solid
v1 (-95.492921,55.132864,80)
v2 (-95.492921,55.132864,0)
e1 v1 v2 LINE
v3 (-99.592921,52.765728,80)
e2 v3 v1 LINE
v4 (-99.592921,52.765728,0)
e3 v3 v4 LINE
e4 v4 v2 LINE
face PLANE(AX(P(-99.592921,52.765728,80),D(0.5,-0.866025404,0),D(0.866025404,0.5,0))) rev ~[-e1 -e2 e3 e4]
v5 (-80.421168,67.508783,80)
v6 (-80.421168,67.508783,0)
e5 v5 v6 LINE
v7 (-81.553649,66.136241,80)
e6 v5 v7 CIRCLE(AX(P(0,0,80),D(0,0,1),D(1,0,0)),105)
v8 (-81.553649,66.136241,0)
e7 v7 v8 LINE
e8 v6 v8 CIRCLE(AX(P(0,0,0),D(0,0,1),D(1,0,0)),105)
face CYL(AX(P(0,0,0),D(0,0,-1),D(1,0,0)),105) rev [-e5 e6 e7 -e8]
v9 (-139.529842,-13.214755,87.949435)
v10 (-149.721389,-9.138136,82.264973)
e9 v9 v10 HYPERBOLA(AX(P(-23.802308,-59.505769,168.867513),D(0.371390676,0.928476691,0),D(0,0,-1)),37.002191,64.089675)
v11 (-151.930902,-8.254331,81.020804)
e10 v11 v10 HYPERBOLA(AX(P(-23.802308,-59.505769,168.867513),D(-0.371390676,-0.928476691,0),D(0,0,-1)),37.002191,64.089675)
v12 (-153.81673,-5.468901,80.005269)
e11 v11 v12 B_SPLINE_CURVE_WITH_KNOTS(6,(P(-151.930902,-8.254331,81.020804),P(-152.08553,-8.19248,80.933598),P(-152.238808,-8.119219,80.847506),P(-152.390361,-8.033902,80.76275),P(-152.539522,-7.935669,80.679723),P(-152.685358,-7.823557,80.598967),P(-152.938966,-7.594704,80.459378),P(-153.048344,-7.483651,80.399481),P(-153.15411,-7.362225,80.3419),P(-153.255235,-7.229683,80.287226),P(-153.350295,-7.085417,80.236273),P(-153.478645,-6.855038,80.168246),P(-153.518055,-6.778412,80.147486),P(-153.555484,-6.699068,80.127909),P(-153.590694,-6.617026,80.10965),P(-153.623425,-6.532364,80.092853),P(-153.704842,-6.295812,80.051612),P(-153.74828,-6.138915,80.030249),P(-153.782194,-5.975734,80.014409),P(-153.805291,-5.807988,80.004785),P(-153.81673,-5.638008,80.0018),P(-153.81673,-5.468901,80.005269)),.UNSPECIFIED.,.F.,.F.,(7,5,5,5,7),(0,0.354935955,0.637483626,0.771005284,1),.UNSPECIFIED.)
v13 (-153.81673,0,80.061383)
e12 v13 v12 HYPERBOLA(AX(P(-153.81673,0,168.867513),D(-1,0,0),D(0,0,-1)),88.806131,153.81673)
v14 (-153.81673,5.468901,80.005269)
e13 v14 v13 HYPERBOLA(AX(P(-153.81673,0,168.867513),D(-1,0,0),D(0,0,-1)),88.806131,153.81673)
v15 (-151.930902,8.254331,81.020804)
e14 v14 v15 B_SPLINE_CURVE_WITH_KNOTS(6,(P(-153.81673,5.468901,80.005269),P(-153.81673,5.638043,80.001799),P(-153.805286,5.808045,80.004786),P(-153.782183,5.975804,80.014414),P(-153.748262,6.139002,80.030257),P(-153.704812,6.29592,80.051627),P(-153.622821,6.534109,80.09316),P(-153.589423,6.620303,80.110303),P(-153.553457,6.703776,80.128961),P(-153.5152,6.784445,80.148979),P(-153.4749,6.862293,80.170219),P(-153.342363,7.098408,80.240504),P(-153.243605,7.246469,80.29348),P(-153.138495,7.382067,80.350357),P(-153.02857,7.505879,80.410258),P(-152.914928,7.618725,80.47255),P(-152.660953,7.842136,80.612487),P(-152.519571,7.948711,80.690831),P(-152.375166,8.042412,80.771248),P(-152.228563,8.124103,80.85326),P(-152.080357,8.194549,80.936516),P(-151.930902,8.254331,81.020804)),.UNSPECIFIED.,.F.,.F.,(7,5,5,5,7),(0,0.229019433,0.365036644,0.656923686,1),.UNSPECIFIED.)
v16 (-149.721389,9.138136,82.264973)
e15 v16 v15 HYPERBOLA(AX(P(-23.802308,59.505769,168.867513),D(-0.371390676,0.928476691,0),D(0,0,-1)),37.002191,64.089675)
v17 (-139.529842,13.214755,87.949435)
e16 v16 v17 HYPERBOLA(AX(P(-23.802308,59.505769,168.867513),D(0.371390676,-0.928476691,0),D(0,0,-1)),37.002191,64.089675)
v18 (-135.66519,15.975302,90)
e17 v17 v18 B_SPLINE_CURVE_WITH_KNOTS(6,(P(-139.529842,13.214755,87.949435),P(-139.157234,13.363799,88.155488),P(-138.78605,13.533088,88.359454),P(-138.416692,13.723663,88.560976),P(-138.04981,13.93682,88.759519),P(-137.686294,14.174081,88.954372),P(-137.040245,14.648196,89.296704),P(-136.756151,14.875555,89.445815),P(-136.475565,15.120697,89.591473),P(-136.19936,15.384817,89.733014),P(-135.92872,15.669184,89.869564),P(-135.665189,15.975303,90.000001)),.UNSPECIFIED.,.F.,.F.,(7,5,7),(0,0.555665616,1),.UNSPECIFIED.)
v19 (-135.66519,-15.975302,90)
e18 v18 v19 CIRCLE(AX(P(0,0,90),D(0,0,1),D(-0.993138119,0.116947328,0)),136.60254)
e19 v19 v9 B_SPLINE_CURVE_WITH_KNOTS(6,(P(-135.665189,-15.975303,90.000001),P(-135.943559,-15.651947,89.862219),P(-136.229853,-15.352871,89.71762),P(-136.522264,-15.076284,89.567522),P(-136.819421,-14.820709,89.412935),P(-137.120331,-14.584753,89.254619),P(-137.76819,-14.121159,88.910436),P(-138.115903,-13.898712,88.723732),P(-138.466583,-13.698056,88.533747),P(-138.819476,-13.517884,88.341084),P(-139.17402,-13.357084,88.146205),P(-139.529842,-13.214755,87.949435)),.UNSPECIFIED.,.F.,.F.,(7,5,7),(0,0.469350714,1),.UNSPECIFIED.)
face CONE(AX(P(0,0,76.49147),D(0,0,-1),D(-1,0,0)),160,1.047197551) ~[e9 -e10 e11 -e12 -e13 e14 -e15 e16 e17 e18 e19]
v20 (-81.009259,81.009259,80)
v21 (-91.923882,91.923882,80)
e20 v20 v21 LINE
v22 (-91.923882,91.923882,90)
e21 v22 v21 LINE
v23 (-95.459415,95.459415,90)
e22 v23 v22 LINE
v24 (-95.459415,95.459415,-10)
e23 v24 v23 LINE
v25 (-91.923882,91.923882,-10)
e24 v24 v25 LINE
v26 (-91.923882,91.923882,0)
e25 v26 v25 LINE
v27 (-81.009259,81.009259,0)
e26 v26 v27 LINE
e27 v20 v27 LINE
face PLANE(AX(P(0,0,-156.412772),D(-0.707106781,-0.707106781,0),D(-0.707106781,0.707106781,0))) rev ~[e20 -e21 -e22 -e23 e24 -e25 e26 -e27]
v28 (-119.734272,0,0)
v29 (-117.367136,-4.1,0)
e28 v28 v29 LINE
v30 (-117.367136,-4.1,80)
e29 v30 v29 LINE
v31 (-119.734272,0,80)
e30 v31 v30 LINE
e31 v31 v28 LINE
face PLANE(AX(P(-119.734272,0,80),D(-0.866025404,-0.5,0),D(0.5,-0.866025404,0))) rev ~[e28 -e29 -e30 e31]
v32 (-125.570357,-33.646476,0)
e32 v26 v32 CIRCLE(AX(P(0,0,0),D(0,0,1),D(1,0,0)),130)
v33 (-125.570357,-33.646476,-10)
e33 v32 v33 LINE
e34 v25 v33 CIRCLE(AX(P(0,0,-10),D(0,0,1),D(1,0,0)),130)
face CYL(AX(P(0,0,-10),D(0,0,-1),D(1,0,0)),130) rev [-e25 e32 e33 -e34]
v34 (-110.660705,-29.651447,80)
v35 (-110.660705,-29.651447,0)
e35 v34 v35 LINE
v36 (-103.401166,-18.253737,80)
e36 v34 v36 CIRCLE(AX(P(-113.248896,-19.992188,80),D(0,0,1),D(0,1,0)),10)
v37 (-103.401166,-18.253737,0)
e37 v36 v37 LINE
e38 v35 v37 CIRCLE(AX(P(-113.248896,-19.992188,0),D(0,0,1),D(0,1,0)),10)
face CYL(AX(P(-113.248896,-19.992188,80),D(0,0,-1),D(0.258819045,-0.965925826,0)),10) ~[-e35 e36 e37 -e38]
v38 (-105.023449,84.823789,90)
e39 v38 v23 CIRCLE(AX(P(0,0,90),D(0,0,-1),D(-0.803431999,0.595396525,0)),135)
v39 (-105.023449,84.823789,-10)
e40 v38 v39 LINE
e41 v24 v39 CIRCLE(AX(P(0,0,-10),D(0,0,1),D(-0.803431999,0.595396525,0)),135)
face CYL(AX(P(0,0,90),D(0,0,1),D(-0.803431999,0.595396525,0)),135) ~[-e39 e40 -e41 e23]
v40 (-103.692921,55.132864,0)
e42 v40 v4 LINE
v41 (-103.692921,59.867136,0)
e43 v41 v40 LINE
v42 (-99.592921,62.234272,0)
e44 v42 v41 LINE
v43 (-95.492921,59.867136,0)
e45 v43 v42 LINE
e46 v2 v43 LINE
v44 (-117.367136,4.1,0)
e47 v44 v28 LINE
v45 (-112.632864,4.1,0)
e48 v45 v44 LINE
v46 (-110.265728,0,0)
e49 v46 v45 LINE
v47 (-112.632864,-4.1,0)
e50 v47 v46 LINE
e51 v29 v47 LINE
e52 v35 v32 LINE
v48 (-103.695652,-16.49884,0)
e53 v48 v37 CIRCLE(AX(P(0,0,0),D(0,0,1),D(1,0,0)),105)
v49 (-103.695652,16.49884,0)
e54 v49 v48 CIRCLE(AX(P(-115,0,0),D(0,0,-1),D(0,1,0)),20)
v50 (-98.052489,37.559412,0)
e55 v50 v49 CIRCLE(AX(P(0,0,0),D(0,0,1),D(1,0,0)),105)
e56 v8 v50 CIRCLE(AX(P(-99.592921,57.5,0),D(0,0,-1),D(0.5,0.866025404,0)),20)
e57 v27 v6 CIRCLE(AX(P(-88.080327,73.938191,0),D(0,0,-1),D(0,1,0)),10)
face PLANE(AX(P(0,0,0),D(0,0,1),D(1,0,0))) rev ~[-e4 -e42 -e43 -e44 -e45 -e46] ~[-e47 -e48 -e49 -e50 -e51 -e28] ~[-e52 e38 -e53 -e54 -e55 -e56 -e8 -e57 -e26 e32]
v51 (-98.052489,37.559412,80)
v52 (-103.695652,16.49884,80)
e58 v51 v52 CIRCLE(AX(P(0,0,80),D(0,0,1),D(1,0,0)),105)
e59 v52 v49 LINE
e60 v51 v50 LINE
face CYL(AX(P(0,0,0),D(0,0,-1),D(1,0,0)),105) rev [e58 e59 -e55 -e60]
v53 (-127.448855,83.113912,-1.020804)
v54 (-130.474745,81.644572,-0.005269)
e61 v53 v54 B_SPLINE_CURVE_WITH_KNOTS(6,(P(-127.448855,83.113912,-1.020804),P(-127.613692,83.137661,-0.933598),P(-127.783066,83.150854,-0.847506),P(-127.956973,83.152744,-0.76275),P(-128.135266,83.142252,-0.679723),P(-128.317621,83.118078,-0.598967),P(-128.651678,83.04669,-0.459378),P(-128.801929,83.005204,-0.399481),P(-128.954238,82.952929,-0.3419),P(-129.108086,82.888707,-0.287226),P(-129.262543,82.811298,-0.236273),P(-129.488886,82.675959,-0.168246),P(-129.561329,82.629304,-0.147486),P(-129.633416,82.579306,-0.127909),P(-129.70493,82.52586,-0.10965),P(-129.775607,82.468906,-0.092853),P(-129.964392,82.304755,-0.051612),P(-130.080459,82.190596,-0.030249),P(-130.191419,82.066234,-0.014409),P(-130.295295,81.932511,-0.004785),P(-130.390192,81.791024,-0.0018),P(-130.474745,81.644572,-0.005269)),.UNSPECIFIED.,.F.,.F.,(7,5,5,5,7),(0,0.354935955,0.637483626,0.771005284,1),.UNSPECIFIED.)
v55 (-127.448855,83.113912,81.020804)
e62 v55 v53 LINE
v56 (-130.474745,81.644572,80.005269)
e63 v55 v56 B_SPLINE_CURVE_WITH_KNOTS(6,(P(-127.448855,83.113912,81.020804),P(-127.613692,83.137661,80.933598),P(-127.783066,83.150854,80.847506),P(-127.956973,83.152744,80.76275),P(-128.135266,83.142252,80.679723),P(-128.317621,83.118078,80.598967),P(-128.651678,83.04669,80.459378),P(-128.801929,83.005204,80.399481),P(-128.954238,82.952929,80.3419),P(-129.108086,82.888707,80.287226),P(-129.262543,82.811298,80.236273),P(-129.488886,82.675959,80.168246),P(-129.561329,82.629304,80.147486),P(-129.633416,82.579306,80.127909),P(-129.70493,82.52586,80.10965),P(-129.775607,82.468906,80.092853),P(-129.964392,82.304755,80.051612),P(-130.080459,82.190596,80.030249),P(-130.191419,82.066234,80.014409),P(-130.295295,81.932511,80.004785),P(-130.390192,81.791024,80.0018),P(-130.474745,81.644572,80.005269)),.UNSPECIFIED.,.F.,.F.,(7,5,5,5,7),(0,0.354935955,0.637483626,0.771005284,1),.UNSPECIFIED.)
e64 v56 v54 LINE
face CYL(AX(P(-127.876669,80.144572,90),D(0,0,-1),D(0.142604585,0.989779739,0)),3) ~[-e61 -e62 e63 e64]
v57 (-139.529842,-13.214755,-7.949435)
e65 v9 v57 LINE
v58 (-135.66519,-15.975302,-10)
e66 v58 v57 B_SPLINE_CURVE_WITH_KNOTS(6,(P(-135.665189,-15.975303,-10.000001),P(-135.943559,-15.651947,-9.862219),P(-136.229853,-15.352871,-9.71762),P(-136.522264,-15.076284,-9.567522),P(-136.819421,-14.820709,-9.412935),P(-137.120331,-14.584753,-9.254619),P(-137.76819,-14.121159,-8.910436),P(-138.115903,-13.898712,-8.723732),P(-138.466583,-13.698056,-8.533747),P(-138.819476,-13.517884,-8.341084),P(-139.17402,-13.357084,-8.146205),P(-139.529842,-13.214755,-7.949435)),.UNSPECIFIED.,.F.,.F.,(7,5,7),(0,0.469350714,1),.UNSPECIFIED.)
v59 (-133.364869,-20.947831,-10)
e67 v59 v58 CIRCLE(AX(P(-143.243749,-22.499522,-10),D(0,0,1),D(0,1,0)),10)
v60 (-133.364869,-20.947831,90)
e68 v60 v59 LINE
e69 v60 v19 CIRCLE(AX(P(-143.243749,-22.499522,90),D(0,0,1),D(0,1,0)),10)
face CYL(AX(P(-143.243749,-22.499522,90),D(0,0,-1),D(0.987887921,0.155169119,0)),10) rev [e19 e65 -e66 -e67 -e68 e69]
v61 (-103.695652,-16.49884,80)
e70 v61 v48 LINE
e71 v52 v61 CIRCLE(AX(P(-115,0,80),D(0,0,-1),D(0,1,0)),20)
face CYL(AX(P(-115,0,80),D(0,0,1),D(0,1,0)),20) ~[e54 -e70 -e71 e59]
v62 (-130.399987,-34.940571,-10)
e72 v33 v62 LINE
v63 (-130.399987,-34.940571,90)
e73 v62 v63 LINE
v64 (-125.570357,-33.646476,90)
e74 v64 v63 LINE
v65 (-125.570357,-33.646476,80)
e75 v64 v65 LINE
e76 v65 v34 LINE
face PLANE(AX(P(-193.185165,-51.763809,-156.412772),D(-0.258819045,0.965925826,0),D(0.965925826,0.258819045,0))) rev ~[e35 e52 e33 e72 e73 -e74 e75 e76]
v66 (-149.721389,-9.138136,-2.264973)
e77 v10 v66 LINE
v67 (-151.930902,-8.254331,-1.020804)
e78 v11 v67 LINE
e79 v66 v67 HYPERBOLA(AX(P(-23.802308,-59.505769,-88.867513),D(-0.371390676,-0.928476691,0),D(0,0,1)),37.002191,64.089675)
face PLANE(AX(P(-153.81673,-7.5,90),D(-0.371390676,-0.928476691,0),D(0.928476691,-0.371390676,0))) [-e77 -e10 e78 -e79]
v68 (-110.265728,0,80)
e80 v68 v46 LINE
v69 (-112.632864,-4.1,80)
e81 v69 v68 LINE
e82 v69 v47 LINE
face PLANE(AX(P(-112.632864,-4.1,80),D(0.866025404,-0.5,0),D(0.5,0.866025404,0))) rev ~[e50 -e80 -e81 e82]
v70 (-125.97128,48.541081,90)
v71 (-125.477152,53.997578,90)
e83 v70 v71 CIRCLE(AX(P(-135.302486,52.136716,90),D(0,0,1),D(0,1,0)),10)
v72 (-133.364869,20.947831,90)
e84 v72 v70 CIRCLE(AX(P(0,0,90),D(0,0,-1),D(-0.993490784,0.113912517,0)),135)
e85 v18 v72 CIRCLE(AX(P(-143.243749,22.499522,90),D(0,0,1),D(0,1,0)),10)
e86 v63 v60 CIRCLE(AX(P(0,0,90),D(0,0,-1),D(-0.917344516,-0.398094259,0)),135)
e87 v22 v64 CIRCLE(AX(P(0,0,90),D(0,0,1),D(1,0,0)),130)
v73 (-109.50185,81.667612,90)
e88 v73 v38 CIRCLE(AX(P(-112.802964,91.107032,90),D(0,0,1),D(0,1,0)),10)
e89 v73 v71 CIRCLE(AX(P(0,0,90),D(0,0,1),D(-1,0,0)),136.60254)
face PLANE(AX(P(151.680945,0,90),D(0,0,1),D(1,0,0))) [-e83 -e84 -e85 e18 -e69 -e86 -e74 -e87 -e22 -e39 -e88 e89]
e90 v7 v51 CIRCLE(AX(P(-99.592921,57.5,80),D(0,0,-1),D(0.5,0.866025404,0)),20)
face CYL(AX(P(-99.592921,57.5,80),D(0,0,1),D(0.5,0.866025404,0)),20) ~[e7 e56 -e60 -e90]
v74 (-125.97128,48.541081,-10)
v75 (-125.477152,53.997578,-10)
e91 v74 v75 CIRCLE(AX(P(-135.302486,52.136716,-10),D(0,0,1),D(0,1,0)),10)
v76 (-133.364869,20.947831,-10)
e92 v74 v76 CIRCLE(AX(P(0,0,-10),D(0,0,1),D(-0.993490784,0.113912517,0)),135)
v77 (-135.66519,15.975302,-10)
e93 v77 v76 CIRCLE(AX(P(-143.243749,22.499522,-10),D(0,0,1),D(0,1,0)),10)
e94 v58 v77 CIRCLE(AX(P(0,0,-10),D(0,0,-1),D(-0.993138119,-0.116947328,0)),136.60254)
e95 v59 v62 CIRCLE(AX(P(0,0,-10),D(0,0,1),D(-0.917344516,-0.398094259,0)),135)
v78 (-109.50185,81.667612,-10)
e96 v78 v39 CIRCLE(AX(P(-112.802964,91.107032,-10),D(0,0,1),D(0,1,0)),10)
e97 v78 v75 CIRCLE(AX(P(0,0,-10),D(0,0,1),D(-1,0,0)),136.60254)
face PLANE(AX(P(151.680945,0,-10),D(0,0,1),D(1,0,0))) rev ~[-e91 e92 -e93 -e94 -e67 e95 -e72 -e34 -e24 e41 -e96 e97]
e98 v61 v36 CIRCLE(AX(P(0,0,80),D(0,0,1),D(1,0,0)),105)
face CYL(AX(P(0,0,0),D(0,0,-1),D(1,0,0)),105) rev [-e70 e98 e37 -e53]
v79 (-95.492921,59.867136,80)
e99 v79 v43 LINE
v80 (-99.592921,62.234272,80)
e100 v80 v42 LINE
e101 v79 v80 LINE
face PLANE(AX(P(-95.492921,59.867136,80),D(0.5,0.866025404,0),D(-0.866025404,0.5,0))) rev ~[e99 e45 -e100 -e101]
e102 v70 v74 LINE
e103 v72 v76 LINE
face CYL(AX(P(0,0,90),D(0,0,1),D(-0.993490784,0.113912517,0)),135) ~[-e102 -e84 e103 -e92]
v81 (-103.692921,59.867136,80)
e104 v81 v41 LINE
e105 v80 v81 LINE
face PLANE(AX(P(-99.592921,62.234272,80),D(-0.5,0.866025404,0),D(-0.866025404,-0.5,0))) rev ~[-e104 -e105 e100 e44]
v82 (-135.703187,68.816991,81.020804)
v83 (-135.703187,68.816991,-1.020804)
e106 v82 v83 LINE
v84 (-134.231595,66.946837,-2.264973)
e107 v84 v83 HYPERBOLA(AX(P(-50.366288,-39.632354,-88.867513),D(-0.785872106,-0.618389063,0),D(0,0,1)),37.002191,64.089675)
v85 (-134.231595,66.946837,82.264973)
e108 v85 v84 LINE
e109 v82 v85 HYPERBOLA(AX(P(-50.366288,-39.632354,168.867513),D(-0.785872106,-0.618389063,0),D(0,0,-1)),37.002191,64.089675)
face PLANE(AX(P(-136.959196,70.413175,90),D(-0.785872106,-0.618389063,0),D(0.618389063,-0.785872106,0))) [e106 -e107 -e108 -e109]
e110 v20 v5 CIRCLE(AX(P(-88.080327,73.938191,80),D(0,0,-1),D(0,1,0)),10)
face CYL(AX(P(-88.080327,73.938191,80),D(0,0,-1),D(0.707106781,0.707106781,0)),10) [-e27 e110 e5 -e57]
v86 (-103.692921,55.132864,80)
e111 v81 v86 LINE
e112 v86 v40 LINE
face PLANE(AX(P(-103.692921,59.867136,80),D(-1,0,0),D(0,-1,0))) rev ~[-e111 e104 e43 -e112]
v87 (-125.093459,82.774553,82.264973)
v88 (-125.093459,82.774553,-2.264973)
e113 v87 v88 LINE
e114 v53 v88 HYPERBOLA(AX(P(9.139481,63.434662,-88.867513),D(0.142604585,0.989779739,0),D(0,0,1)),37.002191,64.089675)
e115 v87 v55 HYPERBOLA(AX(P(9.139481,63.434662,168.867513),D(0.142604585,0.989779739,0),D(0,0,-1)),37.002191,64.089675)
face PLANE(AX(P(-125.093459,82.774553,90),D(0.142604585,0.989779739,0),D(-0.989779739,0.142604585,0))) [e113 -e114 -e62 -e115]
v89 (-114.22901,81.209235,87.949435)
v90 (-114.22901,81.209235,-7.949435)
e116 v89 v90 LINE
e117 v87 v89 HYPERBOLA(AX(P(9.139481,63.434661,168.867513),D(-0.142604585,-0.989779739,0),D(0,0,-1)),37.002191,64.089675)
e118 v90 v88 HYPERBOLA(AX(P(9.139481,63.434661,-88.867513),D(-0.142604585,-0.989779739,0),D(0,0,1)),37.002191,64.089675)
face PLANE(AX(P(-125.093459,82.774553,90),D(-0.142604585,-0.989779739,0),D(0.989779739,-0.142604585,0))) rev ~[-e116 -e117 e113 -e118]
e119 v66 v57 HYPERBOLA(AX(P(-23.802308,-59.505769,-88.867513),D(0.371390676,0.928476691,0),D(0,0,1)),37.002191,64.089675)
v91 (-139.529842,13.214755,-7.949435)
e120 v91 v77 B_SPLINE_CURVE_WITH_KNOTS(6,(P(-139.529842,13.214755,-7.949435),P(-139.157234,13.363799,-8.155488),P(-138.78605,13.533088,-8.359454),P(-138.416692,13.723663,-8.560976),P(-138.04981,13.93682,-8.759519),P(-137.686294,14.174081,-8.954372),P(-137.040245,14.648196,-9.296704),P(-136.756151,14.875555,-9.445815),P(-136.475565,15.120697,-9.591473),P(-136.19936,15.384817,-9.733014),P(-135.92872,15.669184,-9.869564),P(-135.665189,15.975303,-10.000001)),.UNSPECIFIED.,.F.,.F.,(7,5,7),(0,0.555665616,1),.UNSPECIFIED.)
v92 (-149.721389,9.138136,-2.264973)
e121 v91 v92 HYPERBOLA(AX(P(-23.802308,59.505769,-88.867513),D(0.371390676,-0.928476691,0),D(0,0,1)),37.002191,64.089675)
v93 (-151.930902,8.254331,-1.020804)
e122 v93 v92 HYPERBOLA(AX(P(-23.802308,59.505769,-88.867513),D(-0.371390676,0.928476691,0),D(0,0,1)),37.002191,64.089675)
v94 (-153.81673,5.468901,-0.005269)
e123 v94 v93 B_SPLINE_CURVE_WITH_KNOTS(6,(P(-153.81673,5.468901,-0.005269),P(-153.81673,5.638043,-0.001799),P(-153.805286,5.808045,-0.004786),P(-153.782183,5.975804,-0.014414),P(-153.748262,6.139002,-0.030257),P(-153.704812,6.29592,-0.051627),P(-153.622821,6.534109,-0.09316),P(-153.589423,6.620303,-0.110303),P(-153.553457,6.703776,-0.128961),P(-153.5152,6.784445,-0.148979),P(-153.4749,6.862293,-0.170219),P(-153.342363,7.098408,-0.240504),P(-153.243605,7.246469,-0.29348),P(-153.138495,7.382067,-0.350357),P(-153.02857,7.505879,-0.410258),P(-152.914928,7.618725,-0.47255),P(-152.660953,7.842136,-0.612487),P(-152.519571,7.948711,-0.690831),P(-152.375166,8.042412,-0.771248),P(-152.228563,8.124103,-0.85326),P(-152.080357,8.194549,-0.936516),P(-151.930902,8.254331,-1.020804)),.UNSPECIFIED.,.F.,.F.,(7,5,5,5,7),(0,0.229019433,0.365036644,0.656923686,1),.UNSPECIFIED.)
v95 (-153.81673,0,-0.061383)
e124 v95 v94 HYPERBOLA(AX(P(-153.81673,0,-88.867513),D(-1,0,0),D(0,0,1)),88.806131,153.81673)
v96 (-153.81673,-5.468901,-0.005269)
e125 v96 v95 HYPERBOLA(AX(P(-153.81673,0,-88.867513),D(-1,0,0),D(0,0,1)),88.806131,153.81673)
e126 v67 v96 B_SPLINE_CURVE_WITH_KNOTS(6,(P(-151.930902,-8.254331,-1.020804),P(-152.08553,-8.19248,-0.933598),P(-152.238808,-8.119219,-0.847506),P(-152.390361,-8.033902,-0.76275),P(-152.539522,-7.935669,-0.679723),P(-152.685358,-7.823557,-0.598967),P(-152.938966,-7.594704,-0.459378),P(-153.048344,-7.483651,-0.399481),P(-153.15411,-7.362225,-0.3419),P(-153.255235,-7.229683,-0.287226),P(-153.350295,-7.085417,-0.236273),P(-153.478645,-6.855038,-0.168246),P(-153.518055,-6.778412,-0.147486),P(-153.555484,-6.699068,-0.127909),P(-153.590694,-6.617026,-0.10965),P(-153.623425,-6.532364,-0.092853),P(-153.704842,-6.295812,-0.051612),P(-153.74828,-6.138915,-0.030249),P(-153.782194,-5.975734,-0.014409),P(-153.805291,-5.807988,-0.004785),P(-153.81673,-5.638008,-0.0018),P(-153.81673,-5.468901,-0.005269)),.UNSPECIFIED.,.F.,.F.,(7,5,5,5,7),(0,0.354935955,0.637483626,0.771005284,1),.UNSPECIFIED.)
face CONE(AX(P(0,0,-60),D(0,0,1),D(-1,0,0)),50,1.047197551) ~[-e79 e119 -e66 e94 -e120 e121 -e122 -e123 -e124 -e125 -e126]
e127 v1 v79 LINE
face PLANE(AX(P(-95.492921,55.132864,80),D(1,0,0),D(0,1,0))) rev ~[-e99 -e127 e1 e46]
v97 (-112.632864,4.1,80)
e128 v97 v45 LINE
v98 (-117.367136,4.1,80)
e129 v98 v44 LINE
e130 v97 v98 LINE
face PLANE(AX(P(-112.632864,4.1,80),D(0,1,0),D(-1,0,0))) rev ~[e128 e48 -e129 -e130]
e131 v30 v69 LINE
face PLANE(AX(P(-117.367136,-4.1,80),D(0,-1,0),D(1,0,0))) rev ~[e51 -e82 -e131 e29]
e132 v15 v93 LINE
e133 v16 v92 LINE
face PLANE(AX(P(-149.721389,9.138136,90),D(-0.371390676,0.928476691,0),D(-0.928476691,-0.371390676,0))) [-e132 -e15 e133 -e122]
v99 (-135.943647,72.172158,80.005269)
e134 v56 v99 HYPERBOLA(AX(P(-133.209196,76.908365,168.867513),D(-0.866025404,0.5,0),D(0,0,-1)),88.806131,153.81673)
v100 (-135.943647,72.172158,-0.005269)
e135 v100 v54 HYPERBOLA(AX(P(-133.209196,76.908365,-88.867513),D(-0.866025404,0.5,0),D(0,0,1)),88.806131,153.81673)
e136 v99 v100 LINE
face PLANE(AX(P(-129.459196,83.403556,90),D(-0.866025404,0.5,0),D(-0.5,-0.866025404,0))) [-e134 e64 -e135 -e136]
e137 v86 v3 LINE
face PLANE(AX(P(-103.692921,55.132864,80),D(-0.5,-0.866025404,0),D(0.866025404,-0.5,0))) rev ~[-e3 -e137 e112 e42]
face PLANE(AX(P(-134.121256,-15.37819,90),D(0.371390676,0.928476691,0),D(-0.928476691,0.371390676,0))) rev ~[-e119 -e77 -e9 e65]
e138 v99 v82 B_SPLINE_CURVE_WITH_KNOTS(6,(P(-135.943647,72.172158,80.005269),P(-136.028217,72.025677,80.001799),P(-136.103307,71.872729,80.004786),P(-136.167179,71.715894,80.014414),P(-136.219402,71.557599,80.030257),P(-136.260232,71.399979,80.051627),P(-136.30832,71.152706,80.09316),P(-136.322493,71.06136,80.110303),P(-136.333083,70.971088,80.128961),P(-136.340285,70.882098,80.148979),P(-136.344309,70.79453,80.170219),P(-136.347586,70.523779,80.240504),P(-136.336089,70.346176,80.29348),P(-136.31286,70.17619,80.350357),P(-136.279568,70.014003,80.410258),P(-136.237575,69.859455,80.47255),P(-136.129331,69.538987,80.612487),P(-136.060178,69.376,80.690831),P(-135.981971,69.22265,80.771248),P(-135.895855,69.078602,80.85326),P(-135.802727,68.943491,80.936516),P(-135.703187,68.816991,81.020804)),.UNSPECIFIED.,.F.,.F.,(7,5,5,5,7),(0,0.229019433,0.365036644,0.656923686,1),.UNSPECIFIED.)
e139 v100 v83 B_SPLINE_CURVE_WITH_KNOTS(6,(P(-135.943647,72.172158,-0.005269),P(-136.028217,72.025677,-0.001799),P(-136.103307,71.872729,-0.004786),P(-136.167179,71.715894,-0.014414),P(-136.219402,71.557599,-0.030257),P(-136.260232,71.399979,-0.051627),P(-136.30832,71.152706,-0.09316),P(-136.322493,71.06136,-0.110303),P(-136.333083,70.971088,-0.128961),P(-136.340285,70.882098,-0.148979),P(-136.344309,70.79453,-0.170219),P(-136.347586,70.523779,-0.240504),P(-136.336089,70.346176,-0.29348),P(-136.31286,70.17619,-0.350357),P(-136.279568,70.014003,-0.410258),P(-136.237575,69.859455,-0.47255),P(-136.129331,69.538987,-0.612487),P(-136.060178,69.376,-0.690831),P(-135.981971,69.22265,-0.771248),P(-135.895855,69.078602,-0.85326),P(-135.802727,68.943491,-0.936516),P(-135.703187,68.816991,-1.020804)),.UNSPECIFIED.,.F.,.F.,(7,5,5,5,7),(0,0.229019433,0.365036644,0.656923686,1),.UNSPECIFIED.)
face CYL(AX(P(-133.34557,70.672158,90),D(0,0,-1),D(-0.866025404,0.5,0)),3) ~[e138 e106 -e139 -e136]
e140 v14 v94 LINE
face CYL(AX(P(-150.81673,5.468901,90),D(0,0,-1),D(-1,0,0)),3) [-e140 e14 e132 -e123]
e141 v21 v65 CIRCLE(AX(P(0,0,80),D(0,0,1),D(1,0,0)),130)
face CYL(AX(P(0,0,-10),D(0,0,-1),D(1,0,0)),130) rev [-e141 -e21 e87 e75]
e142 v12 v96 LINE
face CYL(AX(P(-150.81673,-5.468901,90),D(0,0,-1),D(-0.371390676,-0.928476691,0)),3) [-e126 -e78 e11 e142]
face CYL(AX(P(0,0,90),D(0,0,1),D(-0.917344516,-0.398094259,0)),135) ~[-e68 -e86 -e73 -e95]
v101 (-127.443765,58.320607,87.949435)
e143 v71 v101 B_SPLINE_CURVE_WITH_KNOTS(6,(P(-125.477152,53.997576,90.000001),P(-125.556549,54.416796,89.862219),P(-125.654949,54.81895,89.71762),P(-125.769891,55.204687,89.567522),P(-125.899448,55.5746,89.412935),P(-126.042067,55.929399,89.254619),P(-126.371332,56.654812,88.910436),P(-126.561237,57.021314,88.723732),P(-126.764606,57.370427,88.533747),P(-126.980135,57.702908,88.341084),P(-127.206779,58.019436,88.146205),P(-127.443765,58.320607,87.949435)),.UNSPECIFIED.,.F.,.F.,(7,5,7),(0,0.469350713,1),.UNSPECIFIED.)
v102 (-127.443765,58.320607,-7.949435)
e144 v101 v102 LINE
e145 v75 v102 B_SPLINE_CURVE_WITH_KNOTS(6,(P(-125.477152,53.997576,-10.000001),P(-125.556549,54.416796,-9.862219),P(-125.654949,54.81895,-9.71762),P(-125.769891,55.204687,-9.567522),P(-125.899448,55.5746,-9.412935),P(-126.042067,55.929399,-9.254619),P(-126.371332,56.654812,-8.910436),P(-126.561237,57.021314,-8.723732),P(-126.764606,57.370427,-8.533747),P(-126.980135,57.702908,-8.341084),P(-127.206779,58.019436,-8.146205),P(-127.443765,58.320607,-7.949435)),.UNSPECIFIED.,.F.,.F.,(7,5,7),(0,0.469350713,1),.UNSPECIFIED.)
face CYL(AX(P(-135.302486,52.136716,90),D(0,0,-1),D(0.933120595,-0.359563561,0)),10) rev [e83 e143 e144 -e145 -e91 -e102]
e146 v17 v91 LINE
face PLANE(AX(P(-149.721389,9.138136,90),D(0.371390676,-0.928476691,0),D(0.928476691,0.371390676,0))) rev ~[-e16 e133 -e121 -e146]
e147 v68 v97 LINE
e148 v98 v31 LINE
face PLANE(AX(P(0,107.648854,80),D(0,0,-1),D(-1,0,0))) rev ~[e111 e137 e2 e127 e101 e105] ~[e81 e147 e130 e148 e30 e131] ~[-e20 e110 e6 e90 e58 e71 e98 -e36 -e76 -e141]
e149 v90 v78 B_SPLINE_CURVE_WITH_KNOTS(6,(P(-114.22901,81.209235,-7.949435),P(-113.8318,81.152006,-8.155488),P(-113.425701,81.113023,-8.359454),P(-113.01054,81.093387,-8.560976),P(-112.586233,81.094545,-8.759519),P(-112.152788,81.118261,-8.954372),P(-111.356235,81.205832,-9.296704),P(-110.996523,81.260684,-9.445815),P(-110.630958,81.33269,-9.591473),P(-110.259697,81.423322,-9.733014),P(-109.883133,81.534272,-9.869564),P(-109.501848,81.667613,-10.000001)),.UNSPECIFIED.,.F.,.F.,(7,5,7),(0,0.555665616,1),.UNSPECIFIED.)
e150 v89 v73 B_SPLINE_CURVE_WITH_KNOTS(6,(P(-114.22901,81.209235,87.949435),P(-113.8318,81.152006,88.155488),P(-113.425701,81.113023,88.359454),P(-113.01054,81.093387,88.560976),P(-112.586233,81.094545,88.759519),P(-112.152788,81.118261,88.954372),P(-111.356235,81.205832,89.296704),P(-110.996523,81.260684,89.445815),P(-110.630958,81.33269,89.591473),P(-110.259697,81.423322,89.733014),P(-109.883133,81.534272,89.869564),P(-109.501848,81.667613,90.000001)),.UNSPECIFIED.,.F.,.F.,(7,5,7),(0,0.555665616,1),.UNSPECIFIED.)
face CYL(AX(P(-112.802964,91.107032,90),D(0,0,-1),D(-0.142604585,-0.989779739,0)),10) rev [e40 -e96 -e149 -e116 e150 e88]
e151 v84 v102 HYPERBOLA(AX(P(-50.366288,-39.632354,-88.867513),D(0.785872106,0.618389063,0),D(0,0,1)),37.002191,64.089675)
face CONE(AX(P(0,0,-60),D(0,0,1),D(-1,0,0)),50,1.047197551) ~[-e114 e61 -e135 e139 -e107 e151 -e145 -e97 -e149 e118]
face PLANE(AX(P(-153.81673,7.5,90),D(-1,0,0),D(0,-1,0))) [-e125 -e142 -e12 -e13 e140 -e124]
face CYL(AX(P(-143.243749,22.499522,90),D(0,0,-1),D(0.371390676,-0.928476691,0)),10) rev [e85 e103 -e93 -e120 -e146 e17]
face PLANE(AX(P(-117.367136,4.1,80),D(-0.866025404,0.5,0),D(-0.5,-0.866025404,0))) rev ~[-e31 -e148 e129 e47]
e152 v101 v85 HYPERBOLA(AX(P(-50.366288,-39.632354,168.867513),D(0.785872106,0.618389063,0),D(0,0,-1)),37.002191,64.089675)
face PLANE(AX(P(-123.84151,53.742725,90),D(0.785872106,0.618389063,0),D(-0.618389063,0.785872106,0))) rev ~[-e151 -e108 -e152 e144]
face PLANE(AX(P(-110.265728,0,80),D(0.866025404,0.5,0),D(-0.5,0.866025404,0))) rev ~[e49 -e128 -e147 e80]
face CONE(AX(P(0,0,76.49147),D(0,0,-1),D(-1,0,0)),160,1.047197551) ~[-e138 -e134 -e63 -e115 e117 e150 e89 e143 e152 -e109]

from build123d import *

# Parameters (mm, degrees)
SKETCH_1_R               = 130
SKETCH_1_R_2             = 105
EXTRUDE_1_DEPTH          = 80
CUT_EXTRUDE_1_DEPTH      = 201.499376558
EXTRUDE_2_DEPTH          = 10
EXTRUDE_2_DEPTH_BACK     = 90
SKETCH_5_R               = 150
SKETCH_5_R_2             = 130
EXTRUDE_3_DEPTH          = 80
EXTRUDE_4_DEPTH          = 100
CUT_EXTRUDE_4_DEPTH      = 240.414228959
FILLET_2_R               = 10
FILLET_3_R               = 3
CUT_EXTRUDE_5_DEPTH      = 236.41277176
CUT_EXTRUDE_5_DEPTH_BACK = 236.41277176
FILLET_4_R               = 10


with BuildPart() as part:
    # 草图1 → 凸台-拉伸1 (new body)
    with BuildSketch(Plane.XY):
        Circle(SKETCH_1_R)
        Circle(SKETCH_1_R_2, mode=Mode.SUBTRACT)
    extrude(amount=EXTRUDE_1_DEPTH)

    # 草图2 → 切除-拉伸1 (cut, through all)
    with BuildSketch(Plane.XY.offset(80)):
        Polygon((62.234272207, 99.592921435), (59.867136104, 103.692921435), (55.132863896, 103.692921435), (52.765727793, 99.592921435), (55.132863896, 95.492921435), (59.867136104, 95.492921435), align=None)
        Polygon((4.1, 117.367136104), (0, 119.734272207), (-4.1, 117.367136104), (-4.1, 112.632863896), (0, 110.265727793), (4.1, 112.632863896), align=None)
        Polygon((103.692921435, 55.132863896), (103.692921435, 59.867136104), (99.592921435, 62.234272207), (95.492921435, 59.867136104), (95.492921435, 55.132863896), (99.592921435, 52.765727793), align=None)
        Polygon((117.367136104, -4.1), (119.734272207, 0), (117.367136104, 4.1), (112.632863896, 4.1), (110.265727793, 0), (112.632863896, -4.1), align=None)
        Polygon((99.592921435, -62.234272207), (103.692921435, -59.867136104), (103.692921435, -55.132863896), (99.592921435, -52.765727793), (95.492921435, -55.132863896), (95.492921435, -59.867136104), align=None)
        Polygon((55.132863896, -103.692921435), (59.867136104, -103.692921435), (62.234272207, -99.592921435), (59.867136104, -95.492921435), (55.132863896, -95.492921435), (52.765727793, -99.592921435), align=None)
        Polygon((-4.1, -117.367136104), (0, -119.734272207), (4.1, -117.367136104), (4.1, -112.632863896), (0, -110.265727793), (-4.1, -112.632863896), align=None)
        Polygon((-62.234272207, -99.592921435), (-59.867136104, -103.692921435), (-55.132863896, -103.692921435), (-52.765727793, -99.592921435), (-55.132863896, -95.492921435), (-59.867136104, -95.492921435), align=None)
        Polygon((-103.692921435, -55.132863896), (-103.692921435, -59.867136104), (-99.592921435, -62.234272207), (-95.492921435, -59.867136104), (-95.492921435, -55.132863896), (-99.592921435, -52.765727793), align=None)
        Polygon((-117.367136104, 4.1), (-119.734272207, 0), (-117.367136104, -4.1), (-112.632863896, -4.1), (-110.265727793, 0), (-112.632863896, 4.1), align=None)
        Polygon((-99.592921435, 62.234272207), (-103.692921435, 59.867136104), (-103.692921435, 55.132863896), (-99.592921435, 52.765727793), (-95.492921435, 55.132863896), (-95.492921435, 59.867136104), align=None)
        Polygon((-55.132863896, 103.692921435), (-59.867136104, 103.692921435), (-62.234272207, 99.592921435), (-59.867136104, 95.492921435), (-55.132863896, 95.492921435), (-52.765727793, 99.592921435), align=None)
    extrude(amount=-CUT_EXTRUDE_1_DEPTH, mode=Mode.SUBTRACT)

    # 草图5 → 凸台-拉伸2 (add, two sides: drawn at the far end of the back side and taken through both)
    with BuildSketch(Plane.XY.offset(80).offset(-EXTRUDE_2_DEPTH_BACK)):
        Circle(SKETCH_5_R)
        Circle(SKETCH_5_R_2, mode=Mode.SUBTRACT)
    extrude(amount=EXTRUDE_2_DEPTH + EXTRUDE_2_DEPTH_BACK)

    # 草图7 → 凸台-拉伸3 (add)
    with BuildSketch(Plane.XY.offset(80)):
        with BuildLine():
            Line((-20, 115), (-7.5, 115))
            ThreePointArc((-7.5, 115), (0, 107.5), (7.5, 115))
            Line((7.5, 115), (20, 115))
            ThreePointArc((20, 115), (0, 95), (-20, 115))
        make_face()
        with BuildLine():
            Line((40.179491924, 109.592921435), (51.004809472, 103.342921435))
            ThreePointArc((51.004809472, 103.342921435), (53.75, 93.097730907), (63.995190528, 95.842921435))
            Line((63.995190528, 95.842921435), (74.820508076, 89.592921435))
            ThreePointArc((74.820508076, 89.592921435), (47.5, 82.27241336), (40.179491924, 109.592921435))
        make_face()
        with BuildLine():
            Line((89.592921435, 74.820508076), (95.842921435, 63.995190528))
            ThreePointArc((95.842921435, 63.995190528), (93.097730907, 53.75), (103.342921435, 51.004809472))
            Line((103.342921435, 51.004809472), (109.592921435, 40.179491924))
            ThreePointArc((109.592921435, 40.179491924), (82.27241336, 47.5), (89.592921435, 74.820508076))
        make_face()
        with BuildLine():
            Line((115, 20), (115, 7.5))
            ThreePointArc((115, 7.5), (107.5, 0), (115, -7.5))
            Line((115, -7.5), (115, -20))
            ThreePointArc((115, -20), (95, 0), (115, 20))
        make_face()
        with BuildLine():
            Line((109.592921435, -40.179491924), (103.342921435, -51.004809472))
            ThreePointArc((103.342921435, -51.004809472), (93.097730907, -53.75), (95.842921435, -63.995190528))
            Line((95.842921435, -63.995190528), (89.592921435, -74.820508076))
            ThreePointArc((89.592921435, -74.820508076), (82.27241336, -47.5), (109.592921435, -40.179491924))
        make_face()
        with BuildLine():
            Line((74.820508076, -89.592921435), (63.995190528, -95.842921435))
            ThreePointArc((63.995190528, -95.842921435), (53.75, -93.097730907), (51.004809472, -103.342921435))
            Line((51.004809472, -103.342921435), (40.179491924, -109.592921435))
            ThreePointArc((40.179491924, -109.592921435), (47.5, -82.27241336), (74.820508076, -89.592921435))
        make_face()
        with BuildLine():
            Line((20, -115), (7.5, -115))
            ThreePointArc((7.5, -115), (0, -107.5), (-7.5, -115))
            Line((-7.5, -115), (-20, -115))
            ThreePointArc((-20, -115), (0, -95), (20, -115))
        make_face()
        with BuildLine():
            Line((-40.179491924, -109.592921435), (-51.004809472, -103.342921435))
            ThreePointArc((-51.004809472, -103.342921435), (-53.75, -93.097730907), (-63.995190528, -95.842921435))
            Line((-63.995190528, -95.842921435), (-74.820508076, -89.592921435))
            ThreePointArc((-74.820508076, -89.592921435), (-47.5, -82.27241336), (-40.179491924, -109.592921435))
        make_face()
        with BuildLine():
            Line((-89.592921435, -74.820508076), (-95.842921435, -63.995190528))
            ThreePointArc((-95.842921435, -63.995190528), (-93.097730907, -53.75), (-103.342921435, -51.004809472))
            Line((-103.342921435, -51.004809472), (-109.592921435, -40.179491924))
            ThreePointArc((-109.592921435, -40.179491924), (-82.27241336, -47.5), (-89.592921435, -74.820508076))
        make_face()
        with BuildLine():
            Line((-115, -20), (-115, -7.5))
            ThreePointArc((-115, -7.5), (-107.5, 0), (-115, 7.5))
            Line((-115, 7.5), (-115, 20))
            ThreePointArc((-115, 20), (-95, 0), (-115, -20))
        make_face()
        with BuildLine():
            Line((-109.592921435, 40.179491924), (-103.342921435, 51.004809472))
            ThreePointArc((-103.342921435, 51.004809472), (-93.097730907, 53.75), (-95.842921435, 63.995190528))
            Line((-95.842921435, 63.995190528), (-89.592921435, 74.820508076))
            ThreePointArc((-89.592921435, 74.820508076), (-82.27241336, 47.5), (-109.592921435, 40.179491924))
        make_face()
        with BuildLine():
            Line((-74.820508076, 89.592921435), (-63.995190528, 95.842921435))
            ThreePointArc((-63.995190528, 95.842921435), (-53.75, 93.097730907), (-51.004809472, 103.342921435))
            Line((-51.004809472, 103.342921435), (-40.179491924, 109.592921435))
            ThreePointArc((-40.179491924, 109.592921435), (-47.5, 82.27241336), (-74.820508076, 89.592921435))
        make_face()
    extrude(amount=-EXTRUDE_3_DEPTH)

    # 草图8 → 凸台-拉伸4 (add, through all)
    with BuildSketch(Plane.XY.offset(90)):
        with BuildLine():
            Line((-7.5, 153.81673028), (-9.138136324, 149.721389469))
            ThreePointArc((-9.138136324, 149.721389469), (0, 150), (9.138136324, 149.721389469))
            Line((9.138136324, 149.721389469), (7.5, 153.81673028))
            Line((7.5, 153.81673028), (-7.5, 153.81673028))
        make_face()
        with BuildLine():
            ThreePointArc((-82.774552935, 125.093458608), (-75, 129.903810568), (-66.946836534, 134.231594932))
            Line((-66.946836534, 134.231594932), (-70.413174612, 136.959195949))
            Line((-70.413174612, 136.959195949), (-83.403555668, 129.459195949))
            Line((-83.403555668, 129.459195949), (-82.774552935, 125.093458608))
        make_face()
        with BuildLine():
            Line((70.413174612, 136.959195949), (66.946836534, 134.231594932))
            ThreePointArc((66.946836534, 134.231594932), (75, 129.903810568), (82.774552935, 125.093458608))
            Line((82.774552935, 125.093458608), (83.403555668, 129.459195949))
            Line((83.403555668, 129.459195949), (70.413174612, 136.959195949))
        make_face()
        with BuildLine():
            ThreePointArc((-134.231594932, 66.946836534), (-129.903810568, 75), (-125.093458608, 82.774552935))
            Line((-125.093458608, 82.774552935), (-129.459195949, 83.403555668))
            Line((-129.459195949, 83.403555668), (-136.959195949, 70.413174612))
            Line((-136.959195949, 70.413174612), (-134.231594932, 66.946836534))
        make_face()
        with BuildLine():
            Line((129.459195949, 83.403555668), (125.093458608, 82.774552935))
            ThreePointArc((125.093458608, 82.774552935), (129.903810568, 75), (134.231594932, 66.946836534))
            Line((134.231594932, 66.946836534), (136.959195949, 70.413174612))
            Line((136.959195949, 70.413174612), (129.459195949, 83.403555668))
        make_face()
        with BuildLine():
            ThreePointArc((-149.721389469, -9.138136324), (-150, 0), (-149.721389469, 9.138136324))
            Line((-149.721389469, 9.138136324), (-153.81673028, 7.5))
            Line((-153.81673028, 7.5), (-153.81673028, -7.5))
            Line((-153.81673028, -7.5), (-149.721389469, -9.138136324))
        make_face()
        with BuildLine():
            Line((153.81673028, 7.5), (149.721389469, 9.138136324))
            ThreePointArc((149.721389469, 9.138136324), (150, 0), (149.721389469, -9.138136324))
            Line((149.721389469, -9.138136324), (153.81673028, -7.5))
            Line((153.81673028, -7.5), (153.81673028, 7.5))
        make_face()
        with BuildLine():
            ThreePointArc((-125.093458608, -82.774552935), (-129.903810568, -75), (-134.231594932, -66.946836534))
            Line((-134.231594932, -66.946836534), (-136.959195949, -70.413174612))
            Line((-136.959195949, -70.413174612), (-129.459195949, -83.403555668))
            Line((-129.459195949, -83.403555668), (-125.093458608, -82.774552935))
        make_face()
        with BuildLine():
            ThreePointArc((-66.946836534, -134.231594932), (-75, -129.903810568), (-82.774552935, -125.093458608))
            Line((-82.774552935, -125.093458608), (-83.403555668, -129.459195949))
            Line((-83.403555668, -129.459195949), (-70.413174612, -136.959195949))
            Line((-70.413174612, -136.959195949), (-66.946836534, -134.231594932))
        make_face()
        with BuildLine():
            Line((136.959195949, -70.413174612), (134.231594932, -66.946836534))
            ThreePointArc((134.231594932, -66.946836534), (129.903810568, -75), (125.093458608, -82.774552935))
            Line((125.093458608, -82.774552935), (129.459195949, -83.403555668))
            Line((129.459195949, -83.403555668), (136.959195949, -70.413174612))
        make_face()
        with BuildLine():
            ThreePointArc((9.138136324, -149.721389469), (0, -150), (-9.138136324, -149.721389469))
            Line((-9.138136324, -149.721389469), (-7.5, -153.81673028))
            Line((-7.5, -153.81673028), (7.5, -153.81673028))
            Line((7.5, -153.81673028), (9.138136324, -149.721389469))
        make_face()
        with BuildLine():
            Line((83.403555668, -129.459195949), (82.774552935, -125.093458608))
            ThreePointArc((82.774552935, -125.093458608), (75, -129.903810568), (66.946836534, -134.231594932))
            Line((66.946836534, -134.231594932), (70.413174612, -136.959195949))
            Line((70.413174612, -136.959195949), (83.403555668, -129.459195949))
        make_face()
    extrude(amount=-EXTRUDE_4_DEPTH)

    # 草图10 → 切除-拉伸4 (cut, through all)
    with BuildSketch(Plane.XY.offset(90)):
        with BuildLine():
            Line((-9.138136324, 149.721389469), (-15.378189759, 134.121255883))
            ThreePointArc((-15.378189759, 134.121255883), (-34.940571089, 130.399986549), (-53.742724947, 123.841509662))
            Line((-53.742724947, 123.841509662), (-66.946836534, 134.231594932))
            ThreePointArc((-66.946836534, 134.231594932), (-38.822856765, 144.888873943), (-9.138136324, 149.721389469))
        make_face()
        with BuildLine():
            Line((9.138136324, 149.721389469), (15.378189759, 134.121255883))
            ThreePointArc((15.378189759, 134.121255883), (34.940571089, 130.399986549), (53.742724947, 123.841509662))
            Line((53.742724947, 123.841509662), (66.946836534, 134.231594932))
            ThreePointArc((66.946836534, 134.231594932), (38.822856765, 144.888873943), (9.138136324, 149.721389469))
        make_face()
        with BuildLine():
            Line((82.774552935, 125.093458608), (80.378530937, 108.463319903))
            ThreePointArc((80.378530937, 108.463319903), (95.45941546, 95.45941546), (108.463319903, 80.378530937))
            Line((108.463319903, 80.378530937), (125.093458608, 82.774552935))
            ThreePointArc((125.093458608, 82.774552935), (106.066017178, 106.066017178), (82.774552935, 125.093458608))
        make_face()
        with BuildLine():
            Line((134.231594932, 66.946836534), (123.841509662, 53.742724947))
            ThreePointArc((123.841509662, 53.742724947), (130.399986549, 34.940571089), (134.121255883, 15.378189759))
            Line((134.121255883, 15.378189759), (149.721389469, 9.138136324))
            ThreePointArc((149.721389469, 9.138136324), (144.888873943, 38.822856765), (134.231594932, 66.946836534))
        make_face()
        with BuildLine():
            Line((149.721389469, -9.138136324), (134.121255883, -15.378189759))
            ThreePointArc((134.121255883, -15.378189759), (130.399986549, -34.940571089), (123.841509662, -53.742724947))
            Line((123.841509662, -53.742724947), (134.231594932, -66.946836534))
            ThreePointArc((134.231594932, -66.946836534), (144.888873943, -38.822856765), (149.721389469, -9.138136324))
        make_face()
        with BuildLine():
            Line((125.093458608, -82.774552935), (108.463319903, -80.378530937))
            ThreePointArc((108.463319903, -80.378530937), (95.45941546, -95.45941546), (80.378530937, -108.463319903))
            Line((80.378530937, -108.463319903), (82.774552935, -125.093458608))
            ThreePointArc((82.774552935, -125.093458608), (106.066017178, -106.066017178), (125.093458608, -82.774552935))
        make_face()
        with BuildLine():
            Line((66.946836534, -134.231594932), (53.742724947, -123.841509662))
            ThreePointArc((53.742724947, -123.841509662), (34.940571089, -130.399986549), (15.378189759, -134.121255883))
            Line((15.378189759, -134.121255883), (9.138136324, -149.721389469))
            ThreePointArc((9.138136324, -149.721389469), (38.822856765, -144.888873943), (66.946836534, -134.231594932))
        make_face()
        with BuildLine():
            Line((-9.138136324, -149.721389469), (-15.378189759, -134.121255883))
            ThreePointArc((-15.378189759, -134.121255883), (-34.940571089, -130.399986549), (-53.742724947, -123.841509662))
            Line((-53.742724947, -123.841509662), (-66.946836534, -134.231594932))
            ThreePointArc((-66.946836534, -134.231594932), (-38.822856765, -144.888873943), (-9.138136324, -149.721389469))
        make_face()
        with BuildLine():
            Line((-82.774552935, -125.093458608), (-80.378530937, -108.463319903))
            ThreePointArc((-80.378530937, -108.463319903), (-95.45941546, -95.45941546), (-108.463319903, -80.378530937))
            Line((-108.463319903, -80.378530937), (-125.093458608, -82.774552935))
            ThreePointArc((-125.093458608, -82.774552935), (-106.066017178, -106.066017178), (-82.774552935, -125.093458608))
        make_face()
        with BuildLine():
            Line((-134.231594932, -66.946836534), (-123.841509662, -53.742724947))
            ThreePointArc((-123.841509662, -53.742724947), (-130.399986549, -34.940571089), (-134.121255883, -15.378189759))
            Line((-134.121255883, -15.378189759), (-149.721389469, -9.138136324))
            ThreePointArc((-149.721389469, -9.138136324), (-144.888873943, -38.822856765), (-134.231594932, -66.946836534))
        make_face()
        with BuildLine():
            Line((-149.721389469, 9.138136324), (-134.121255883, 15.378189759))
            ThreePointArc((-134.121255883, 15.378189759), (-130.399986549, 34.940571089), (-123.841509662, 53.742724947))
            Line((-123.841509662, 53.742724947), (-134.231594932, 66.946836534))
            ThreePointArc((-134.231594932, 66.946836534), (-144.888873943, 38.822856765), (-149.721389469, 9.138136324))
        make_face()
        with BuildLine():
            Line((-125.093458608, 82.774552935), (-108.463319903, 80.378530937))
            ThreePointArc((-108.463319903, 80.378530937), (-95.45941546, 95.45941546), (-80.378530937, 108.463319903))
            Line((-80.378530937, 108.463319903), (-82.774552935, 125.093458608))
            ThreePointArc((-82.774552935, 125.093458608), (-106.066017178, 106.066017178), (-125.093458608, 82.774552935))
        make_face()
    extrude(amount=-CUT_EXTRUDE_4_DEPTH, mode=Mode.SUBTRACT)

    # 圆角2
    fillet_2_edges = [part.edges().sort_by_distance(p)[0] for p in [
        (-80.378530937, 108.463319903, 40),
        (-108.463319903, 80.378530937, 40),
        (53.742724947, 123.841509662, 40),
        (15.378189759, 134.121255883, 40),
        (-123.841509662, 53.742724947, 40),
        (-134.121255883, 15.378189759, 40),
        (108.463319903, 80.378530937, 40),
        (80.378530937, 108.463319903, 40),
        (-53.742724947, -123.841509662, 40),
        (-15.378189759, -134.121255883, 40),
        (-108.463319903, -80.378530937, 40),
        (-80.378530937, -108.463319903, 40),
        (-134.121255883, -15.378189759, 40),
        (-123.841509662, -53.742724947, 40),
        (-15.378189759, 134.121255883, 40),
        (-53.742724947, 123.841509662, 40),
        (15.378189759, -134.121255883, 40),
        (53.742724947, -123.841509662, 40),
        (80.378530937, -108.463319903, 40),
        (108.463319903, -80.378530937, 40),
        (123.841509662, -53.742724947, 40),
        (134.121255883, -15.378189759, 40),
        (134.121255883, 15.378189759, 40),
        (123.841509662, 53.742724947, 40),
    ]]
    fillet(fillet_2_edges, radius=FILLET_2_R)

    # 圆角3
    fillet_3_edges = [part.edges().sort_by_distance(p)[0] for p in [
        (-153.81673028, -7.5, 40),
        (-153.81673028, 7.5, 40),
        (-136.959195949, 70.413174612, 40),
        (-129.459195949, 83.403555668, 40),
        (-83.403555668, 129.459195949, 40),
        (-70.413174612, 136.959195949, 40),
        (-7.5, 153.81673028, 40),
        (7.5, 153.81673028, 40),
        (70.413174612, 136.959195949, 40),
        (83.403555668, 129.459195949, 40),
        (129.459195949, 83.403555668, 40),
        (136.959195949, 70.413174612, 40),
        (153.81673028, 7.5, 40),
        (153.81673028, -7.5, 40),
        (136.959195949, -70.413174612, 40),
        (129.459195949, -83.403555668, 40),
        (83.403555668, -129.459195949, 40),
        (70.413174612, -136.959195949, 40),
        (7.5, -153.81673028, 40),
        (-7.5, -153.81673028, 40),
        (-70.413174612, -136.959195949, 40),
        (-83.403555668, -129.459195949, 40),
        (-129.459195949, -83.403555668, 40),
        (-136.959195949, -70.413174612, 40),
    ]]
    fillet(fillet_3_edges, radius=FILLET_3_R)

    # 草图11 → 切除-旋转4 (revolve, cut)
    with BuildSketch(Plane(origin=(0, 0, 0), x_dir=(1, 0, 0), z_dir=(0, 1, 0))):
        Polygon((-50, 60), (-160, -3.508529611), (-160, 60), align=None)
        Polygon((-160, -140), (-160, -76.491470389), (-50, -140), align=None)
    revolve(axis=Axis((0, 0, 0), (0, 0, -1)), mode=Mode.SUBTRACT)

    # 草图12 → 切除-拉伸5 (cut, two sides: drawn at the far end of the back side and taken through both)
    with BuildSketch(Plane.XY.offset(80).offset(-CUT_EXTRUDE_5_DEPTH_BACK)):
        with BuildLine():
            Line((0, 0), (-141.421356237, 141.421356237))
            ThreePointArc((-141.421356237, 141.421356237), (193.185165258, -51.763809021), (-193.185165258, -51.763809021))
            Line((-193.185165258, -51.763809021), (0, 0))
        make_face()
    extrude(amount=CUT_EXTRUDE_5_DEPTH + CUT_EXTRUDE_5_DEPTH_BACK, mode=Mode.SUBTRACT)

    # 圆角4
    fillet_4_edges = [part.edges().sort_by_distance(p)[0] for p in [
        (-74.246212025, 74.246212025, 40),
        (-101.42221176, -27.175999736, 40),
    ]]
    fillet(fillet_4_edges, radius=FILLET_4_R)


solid = part.part
